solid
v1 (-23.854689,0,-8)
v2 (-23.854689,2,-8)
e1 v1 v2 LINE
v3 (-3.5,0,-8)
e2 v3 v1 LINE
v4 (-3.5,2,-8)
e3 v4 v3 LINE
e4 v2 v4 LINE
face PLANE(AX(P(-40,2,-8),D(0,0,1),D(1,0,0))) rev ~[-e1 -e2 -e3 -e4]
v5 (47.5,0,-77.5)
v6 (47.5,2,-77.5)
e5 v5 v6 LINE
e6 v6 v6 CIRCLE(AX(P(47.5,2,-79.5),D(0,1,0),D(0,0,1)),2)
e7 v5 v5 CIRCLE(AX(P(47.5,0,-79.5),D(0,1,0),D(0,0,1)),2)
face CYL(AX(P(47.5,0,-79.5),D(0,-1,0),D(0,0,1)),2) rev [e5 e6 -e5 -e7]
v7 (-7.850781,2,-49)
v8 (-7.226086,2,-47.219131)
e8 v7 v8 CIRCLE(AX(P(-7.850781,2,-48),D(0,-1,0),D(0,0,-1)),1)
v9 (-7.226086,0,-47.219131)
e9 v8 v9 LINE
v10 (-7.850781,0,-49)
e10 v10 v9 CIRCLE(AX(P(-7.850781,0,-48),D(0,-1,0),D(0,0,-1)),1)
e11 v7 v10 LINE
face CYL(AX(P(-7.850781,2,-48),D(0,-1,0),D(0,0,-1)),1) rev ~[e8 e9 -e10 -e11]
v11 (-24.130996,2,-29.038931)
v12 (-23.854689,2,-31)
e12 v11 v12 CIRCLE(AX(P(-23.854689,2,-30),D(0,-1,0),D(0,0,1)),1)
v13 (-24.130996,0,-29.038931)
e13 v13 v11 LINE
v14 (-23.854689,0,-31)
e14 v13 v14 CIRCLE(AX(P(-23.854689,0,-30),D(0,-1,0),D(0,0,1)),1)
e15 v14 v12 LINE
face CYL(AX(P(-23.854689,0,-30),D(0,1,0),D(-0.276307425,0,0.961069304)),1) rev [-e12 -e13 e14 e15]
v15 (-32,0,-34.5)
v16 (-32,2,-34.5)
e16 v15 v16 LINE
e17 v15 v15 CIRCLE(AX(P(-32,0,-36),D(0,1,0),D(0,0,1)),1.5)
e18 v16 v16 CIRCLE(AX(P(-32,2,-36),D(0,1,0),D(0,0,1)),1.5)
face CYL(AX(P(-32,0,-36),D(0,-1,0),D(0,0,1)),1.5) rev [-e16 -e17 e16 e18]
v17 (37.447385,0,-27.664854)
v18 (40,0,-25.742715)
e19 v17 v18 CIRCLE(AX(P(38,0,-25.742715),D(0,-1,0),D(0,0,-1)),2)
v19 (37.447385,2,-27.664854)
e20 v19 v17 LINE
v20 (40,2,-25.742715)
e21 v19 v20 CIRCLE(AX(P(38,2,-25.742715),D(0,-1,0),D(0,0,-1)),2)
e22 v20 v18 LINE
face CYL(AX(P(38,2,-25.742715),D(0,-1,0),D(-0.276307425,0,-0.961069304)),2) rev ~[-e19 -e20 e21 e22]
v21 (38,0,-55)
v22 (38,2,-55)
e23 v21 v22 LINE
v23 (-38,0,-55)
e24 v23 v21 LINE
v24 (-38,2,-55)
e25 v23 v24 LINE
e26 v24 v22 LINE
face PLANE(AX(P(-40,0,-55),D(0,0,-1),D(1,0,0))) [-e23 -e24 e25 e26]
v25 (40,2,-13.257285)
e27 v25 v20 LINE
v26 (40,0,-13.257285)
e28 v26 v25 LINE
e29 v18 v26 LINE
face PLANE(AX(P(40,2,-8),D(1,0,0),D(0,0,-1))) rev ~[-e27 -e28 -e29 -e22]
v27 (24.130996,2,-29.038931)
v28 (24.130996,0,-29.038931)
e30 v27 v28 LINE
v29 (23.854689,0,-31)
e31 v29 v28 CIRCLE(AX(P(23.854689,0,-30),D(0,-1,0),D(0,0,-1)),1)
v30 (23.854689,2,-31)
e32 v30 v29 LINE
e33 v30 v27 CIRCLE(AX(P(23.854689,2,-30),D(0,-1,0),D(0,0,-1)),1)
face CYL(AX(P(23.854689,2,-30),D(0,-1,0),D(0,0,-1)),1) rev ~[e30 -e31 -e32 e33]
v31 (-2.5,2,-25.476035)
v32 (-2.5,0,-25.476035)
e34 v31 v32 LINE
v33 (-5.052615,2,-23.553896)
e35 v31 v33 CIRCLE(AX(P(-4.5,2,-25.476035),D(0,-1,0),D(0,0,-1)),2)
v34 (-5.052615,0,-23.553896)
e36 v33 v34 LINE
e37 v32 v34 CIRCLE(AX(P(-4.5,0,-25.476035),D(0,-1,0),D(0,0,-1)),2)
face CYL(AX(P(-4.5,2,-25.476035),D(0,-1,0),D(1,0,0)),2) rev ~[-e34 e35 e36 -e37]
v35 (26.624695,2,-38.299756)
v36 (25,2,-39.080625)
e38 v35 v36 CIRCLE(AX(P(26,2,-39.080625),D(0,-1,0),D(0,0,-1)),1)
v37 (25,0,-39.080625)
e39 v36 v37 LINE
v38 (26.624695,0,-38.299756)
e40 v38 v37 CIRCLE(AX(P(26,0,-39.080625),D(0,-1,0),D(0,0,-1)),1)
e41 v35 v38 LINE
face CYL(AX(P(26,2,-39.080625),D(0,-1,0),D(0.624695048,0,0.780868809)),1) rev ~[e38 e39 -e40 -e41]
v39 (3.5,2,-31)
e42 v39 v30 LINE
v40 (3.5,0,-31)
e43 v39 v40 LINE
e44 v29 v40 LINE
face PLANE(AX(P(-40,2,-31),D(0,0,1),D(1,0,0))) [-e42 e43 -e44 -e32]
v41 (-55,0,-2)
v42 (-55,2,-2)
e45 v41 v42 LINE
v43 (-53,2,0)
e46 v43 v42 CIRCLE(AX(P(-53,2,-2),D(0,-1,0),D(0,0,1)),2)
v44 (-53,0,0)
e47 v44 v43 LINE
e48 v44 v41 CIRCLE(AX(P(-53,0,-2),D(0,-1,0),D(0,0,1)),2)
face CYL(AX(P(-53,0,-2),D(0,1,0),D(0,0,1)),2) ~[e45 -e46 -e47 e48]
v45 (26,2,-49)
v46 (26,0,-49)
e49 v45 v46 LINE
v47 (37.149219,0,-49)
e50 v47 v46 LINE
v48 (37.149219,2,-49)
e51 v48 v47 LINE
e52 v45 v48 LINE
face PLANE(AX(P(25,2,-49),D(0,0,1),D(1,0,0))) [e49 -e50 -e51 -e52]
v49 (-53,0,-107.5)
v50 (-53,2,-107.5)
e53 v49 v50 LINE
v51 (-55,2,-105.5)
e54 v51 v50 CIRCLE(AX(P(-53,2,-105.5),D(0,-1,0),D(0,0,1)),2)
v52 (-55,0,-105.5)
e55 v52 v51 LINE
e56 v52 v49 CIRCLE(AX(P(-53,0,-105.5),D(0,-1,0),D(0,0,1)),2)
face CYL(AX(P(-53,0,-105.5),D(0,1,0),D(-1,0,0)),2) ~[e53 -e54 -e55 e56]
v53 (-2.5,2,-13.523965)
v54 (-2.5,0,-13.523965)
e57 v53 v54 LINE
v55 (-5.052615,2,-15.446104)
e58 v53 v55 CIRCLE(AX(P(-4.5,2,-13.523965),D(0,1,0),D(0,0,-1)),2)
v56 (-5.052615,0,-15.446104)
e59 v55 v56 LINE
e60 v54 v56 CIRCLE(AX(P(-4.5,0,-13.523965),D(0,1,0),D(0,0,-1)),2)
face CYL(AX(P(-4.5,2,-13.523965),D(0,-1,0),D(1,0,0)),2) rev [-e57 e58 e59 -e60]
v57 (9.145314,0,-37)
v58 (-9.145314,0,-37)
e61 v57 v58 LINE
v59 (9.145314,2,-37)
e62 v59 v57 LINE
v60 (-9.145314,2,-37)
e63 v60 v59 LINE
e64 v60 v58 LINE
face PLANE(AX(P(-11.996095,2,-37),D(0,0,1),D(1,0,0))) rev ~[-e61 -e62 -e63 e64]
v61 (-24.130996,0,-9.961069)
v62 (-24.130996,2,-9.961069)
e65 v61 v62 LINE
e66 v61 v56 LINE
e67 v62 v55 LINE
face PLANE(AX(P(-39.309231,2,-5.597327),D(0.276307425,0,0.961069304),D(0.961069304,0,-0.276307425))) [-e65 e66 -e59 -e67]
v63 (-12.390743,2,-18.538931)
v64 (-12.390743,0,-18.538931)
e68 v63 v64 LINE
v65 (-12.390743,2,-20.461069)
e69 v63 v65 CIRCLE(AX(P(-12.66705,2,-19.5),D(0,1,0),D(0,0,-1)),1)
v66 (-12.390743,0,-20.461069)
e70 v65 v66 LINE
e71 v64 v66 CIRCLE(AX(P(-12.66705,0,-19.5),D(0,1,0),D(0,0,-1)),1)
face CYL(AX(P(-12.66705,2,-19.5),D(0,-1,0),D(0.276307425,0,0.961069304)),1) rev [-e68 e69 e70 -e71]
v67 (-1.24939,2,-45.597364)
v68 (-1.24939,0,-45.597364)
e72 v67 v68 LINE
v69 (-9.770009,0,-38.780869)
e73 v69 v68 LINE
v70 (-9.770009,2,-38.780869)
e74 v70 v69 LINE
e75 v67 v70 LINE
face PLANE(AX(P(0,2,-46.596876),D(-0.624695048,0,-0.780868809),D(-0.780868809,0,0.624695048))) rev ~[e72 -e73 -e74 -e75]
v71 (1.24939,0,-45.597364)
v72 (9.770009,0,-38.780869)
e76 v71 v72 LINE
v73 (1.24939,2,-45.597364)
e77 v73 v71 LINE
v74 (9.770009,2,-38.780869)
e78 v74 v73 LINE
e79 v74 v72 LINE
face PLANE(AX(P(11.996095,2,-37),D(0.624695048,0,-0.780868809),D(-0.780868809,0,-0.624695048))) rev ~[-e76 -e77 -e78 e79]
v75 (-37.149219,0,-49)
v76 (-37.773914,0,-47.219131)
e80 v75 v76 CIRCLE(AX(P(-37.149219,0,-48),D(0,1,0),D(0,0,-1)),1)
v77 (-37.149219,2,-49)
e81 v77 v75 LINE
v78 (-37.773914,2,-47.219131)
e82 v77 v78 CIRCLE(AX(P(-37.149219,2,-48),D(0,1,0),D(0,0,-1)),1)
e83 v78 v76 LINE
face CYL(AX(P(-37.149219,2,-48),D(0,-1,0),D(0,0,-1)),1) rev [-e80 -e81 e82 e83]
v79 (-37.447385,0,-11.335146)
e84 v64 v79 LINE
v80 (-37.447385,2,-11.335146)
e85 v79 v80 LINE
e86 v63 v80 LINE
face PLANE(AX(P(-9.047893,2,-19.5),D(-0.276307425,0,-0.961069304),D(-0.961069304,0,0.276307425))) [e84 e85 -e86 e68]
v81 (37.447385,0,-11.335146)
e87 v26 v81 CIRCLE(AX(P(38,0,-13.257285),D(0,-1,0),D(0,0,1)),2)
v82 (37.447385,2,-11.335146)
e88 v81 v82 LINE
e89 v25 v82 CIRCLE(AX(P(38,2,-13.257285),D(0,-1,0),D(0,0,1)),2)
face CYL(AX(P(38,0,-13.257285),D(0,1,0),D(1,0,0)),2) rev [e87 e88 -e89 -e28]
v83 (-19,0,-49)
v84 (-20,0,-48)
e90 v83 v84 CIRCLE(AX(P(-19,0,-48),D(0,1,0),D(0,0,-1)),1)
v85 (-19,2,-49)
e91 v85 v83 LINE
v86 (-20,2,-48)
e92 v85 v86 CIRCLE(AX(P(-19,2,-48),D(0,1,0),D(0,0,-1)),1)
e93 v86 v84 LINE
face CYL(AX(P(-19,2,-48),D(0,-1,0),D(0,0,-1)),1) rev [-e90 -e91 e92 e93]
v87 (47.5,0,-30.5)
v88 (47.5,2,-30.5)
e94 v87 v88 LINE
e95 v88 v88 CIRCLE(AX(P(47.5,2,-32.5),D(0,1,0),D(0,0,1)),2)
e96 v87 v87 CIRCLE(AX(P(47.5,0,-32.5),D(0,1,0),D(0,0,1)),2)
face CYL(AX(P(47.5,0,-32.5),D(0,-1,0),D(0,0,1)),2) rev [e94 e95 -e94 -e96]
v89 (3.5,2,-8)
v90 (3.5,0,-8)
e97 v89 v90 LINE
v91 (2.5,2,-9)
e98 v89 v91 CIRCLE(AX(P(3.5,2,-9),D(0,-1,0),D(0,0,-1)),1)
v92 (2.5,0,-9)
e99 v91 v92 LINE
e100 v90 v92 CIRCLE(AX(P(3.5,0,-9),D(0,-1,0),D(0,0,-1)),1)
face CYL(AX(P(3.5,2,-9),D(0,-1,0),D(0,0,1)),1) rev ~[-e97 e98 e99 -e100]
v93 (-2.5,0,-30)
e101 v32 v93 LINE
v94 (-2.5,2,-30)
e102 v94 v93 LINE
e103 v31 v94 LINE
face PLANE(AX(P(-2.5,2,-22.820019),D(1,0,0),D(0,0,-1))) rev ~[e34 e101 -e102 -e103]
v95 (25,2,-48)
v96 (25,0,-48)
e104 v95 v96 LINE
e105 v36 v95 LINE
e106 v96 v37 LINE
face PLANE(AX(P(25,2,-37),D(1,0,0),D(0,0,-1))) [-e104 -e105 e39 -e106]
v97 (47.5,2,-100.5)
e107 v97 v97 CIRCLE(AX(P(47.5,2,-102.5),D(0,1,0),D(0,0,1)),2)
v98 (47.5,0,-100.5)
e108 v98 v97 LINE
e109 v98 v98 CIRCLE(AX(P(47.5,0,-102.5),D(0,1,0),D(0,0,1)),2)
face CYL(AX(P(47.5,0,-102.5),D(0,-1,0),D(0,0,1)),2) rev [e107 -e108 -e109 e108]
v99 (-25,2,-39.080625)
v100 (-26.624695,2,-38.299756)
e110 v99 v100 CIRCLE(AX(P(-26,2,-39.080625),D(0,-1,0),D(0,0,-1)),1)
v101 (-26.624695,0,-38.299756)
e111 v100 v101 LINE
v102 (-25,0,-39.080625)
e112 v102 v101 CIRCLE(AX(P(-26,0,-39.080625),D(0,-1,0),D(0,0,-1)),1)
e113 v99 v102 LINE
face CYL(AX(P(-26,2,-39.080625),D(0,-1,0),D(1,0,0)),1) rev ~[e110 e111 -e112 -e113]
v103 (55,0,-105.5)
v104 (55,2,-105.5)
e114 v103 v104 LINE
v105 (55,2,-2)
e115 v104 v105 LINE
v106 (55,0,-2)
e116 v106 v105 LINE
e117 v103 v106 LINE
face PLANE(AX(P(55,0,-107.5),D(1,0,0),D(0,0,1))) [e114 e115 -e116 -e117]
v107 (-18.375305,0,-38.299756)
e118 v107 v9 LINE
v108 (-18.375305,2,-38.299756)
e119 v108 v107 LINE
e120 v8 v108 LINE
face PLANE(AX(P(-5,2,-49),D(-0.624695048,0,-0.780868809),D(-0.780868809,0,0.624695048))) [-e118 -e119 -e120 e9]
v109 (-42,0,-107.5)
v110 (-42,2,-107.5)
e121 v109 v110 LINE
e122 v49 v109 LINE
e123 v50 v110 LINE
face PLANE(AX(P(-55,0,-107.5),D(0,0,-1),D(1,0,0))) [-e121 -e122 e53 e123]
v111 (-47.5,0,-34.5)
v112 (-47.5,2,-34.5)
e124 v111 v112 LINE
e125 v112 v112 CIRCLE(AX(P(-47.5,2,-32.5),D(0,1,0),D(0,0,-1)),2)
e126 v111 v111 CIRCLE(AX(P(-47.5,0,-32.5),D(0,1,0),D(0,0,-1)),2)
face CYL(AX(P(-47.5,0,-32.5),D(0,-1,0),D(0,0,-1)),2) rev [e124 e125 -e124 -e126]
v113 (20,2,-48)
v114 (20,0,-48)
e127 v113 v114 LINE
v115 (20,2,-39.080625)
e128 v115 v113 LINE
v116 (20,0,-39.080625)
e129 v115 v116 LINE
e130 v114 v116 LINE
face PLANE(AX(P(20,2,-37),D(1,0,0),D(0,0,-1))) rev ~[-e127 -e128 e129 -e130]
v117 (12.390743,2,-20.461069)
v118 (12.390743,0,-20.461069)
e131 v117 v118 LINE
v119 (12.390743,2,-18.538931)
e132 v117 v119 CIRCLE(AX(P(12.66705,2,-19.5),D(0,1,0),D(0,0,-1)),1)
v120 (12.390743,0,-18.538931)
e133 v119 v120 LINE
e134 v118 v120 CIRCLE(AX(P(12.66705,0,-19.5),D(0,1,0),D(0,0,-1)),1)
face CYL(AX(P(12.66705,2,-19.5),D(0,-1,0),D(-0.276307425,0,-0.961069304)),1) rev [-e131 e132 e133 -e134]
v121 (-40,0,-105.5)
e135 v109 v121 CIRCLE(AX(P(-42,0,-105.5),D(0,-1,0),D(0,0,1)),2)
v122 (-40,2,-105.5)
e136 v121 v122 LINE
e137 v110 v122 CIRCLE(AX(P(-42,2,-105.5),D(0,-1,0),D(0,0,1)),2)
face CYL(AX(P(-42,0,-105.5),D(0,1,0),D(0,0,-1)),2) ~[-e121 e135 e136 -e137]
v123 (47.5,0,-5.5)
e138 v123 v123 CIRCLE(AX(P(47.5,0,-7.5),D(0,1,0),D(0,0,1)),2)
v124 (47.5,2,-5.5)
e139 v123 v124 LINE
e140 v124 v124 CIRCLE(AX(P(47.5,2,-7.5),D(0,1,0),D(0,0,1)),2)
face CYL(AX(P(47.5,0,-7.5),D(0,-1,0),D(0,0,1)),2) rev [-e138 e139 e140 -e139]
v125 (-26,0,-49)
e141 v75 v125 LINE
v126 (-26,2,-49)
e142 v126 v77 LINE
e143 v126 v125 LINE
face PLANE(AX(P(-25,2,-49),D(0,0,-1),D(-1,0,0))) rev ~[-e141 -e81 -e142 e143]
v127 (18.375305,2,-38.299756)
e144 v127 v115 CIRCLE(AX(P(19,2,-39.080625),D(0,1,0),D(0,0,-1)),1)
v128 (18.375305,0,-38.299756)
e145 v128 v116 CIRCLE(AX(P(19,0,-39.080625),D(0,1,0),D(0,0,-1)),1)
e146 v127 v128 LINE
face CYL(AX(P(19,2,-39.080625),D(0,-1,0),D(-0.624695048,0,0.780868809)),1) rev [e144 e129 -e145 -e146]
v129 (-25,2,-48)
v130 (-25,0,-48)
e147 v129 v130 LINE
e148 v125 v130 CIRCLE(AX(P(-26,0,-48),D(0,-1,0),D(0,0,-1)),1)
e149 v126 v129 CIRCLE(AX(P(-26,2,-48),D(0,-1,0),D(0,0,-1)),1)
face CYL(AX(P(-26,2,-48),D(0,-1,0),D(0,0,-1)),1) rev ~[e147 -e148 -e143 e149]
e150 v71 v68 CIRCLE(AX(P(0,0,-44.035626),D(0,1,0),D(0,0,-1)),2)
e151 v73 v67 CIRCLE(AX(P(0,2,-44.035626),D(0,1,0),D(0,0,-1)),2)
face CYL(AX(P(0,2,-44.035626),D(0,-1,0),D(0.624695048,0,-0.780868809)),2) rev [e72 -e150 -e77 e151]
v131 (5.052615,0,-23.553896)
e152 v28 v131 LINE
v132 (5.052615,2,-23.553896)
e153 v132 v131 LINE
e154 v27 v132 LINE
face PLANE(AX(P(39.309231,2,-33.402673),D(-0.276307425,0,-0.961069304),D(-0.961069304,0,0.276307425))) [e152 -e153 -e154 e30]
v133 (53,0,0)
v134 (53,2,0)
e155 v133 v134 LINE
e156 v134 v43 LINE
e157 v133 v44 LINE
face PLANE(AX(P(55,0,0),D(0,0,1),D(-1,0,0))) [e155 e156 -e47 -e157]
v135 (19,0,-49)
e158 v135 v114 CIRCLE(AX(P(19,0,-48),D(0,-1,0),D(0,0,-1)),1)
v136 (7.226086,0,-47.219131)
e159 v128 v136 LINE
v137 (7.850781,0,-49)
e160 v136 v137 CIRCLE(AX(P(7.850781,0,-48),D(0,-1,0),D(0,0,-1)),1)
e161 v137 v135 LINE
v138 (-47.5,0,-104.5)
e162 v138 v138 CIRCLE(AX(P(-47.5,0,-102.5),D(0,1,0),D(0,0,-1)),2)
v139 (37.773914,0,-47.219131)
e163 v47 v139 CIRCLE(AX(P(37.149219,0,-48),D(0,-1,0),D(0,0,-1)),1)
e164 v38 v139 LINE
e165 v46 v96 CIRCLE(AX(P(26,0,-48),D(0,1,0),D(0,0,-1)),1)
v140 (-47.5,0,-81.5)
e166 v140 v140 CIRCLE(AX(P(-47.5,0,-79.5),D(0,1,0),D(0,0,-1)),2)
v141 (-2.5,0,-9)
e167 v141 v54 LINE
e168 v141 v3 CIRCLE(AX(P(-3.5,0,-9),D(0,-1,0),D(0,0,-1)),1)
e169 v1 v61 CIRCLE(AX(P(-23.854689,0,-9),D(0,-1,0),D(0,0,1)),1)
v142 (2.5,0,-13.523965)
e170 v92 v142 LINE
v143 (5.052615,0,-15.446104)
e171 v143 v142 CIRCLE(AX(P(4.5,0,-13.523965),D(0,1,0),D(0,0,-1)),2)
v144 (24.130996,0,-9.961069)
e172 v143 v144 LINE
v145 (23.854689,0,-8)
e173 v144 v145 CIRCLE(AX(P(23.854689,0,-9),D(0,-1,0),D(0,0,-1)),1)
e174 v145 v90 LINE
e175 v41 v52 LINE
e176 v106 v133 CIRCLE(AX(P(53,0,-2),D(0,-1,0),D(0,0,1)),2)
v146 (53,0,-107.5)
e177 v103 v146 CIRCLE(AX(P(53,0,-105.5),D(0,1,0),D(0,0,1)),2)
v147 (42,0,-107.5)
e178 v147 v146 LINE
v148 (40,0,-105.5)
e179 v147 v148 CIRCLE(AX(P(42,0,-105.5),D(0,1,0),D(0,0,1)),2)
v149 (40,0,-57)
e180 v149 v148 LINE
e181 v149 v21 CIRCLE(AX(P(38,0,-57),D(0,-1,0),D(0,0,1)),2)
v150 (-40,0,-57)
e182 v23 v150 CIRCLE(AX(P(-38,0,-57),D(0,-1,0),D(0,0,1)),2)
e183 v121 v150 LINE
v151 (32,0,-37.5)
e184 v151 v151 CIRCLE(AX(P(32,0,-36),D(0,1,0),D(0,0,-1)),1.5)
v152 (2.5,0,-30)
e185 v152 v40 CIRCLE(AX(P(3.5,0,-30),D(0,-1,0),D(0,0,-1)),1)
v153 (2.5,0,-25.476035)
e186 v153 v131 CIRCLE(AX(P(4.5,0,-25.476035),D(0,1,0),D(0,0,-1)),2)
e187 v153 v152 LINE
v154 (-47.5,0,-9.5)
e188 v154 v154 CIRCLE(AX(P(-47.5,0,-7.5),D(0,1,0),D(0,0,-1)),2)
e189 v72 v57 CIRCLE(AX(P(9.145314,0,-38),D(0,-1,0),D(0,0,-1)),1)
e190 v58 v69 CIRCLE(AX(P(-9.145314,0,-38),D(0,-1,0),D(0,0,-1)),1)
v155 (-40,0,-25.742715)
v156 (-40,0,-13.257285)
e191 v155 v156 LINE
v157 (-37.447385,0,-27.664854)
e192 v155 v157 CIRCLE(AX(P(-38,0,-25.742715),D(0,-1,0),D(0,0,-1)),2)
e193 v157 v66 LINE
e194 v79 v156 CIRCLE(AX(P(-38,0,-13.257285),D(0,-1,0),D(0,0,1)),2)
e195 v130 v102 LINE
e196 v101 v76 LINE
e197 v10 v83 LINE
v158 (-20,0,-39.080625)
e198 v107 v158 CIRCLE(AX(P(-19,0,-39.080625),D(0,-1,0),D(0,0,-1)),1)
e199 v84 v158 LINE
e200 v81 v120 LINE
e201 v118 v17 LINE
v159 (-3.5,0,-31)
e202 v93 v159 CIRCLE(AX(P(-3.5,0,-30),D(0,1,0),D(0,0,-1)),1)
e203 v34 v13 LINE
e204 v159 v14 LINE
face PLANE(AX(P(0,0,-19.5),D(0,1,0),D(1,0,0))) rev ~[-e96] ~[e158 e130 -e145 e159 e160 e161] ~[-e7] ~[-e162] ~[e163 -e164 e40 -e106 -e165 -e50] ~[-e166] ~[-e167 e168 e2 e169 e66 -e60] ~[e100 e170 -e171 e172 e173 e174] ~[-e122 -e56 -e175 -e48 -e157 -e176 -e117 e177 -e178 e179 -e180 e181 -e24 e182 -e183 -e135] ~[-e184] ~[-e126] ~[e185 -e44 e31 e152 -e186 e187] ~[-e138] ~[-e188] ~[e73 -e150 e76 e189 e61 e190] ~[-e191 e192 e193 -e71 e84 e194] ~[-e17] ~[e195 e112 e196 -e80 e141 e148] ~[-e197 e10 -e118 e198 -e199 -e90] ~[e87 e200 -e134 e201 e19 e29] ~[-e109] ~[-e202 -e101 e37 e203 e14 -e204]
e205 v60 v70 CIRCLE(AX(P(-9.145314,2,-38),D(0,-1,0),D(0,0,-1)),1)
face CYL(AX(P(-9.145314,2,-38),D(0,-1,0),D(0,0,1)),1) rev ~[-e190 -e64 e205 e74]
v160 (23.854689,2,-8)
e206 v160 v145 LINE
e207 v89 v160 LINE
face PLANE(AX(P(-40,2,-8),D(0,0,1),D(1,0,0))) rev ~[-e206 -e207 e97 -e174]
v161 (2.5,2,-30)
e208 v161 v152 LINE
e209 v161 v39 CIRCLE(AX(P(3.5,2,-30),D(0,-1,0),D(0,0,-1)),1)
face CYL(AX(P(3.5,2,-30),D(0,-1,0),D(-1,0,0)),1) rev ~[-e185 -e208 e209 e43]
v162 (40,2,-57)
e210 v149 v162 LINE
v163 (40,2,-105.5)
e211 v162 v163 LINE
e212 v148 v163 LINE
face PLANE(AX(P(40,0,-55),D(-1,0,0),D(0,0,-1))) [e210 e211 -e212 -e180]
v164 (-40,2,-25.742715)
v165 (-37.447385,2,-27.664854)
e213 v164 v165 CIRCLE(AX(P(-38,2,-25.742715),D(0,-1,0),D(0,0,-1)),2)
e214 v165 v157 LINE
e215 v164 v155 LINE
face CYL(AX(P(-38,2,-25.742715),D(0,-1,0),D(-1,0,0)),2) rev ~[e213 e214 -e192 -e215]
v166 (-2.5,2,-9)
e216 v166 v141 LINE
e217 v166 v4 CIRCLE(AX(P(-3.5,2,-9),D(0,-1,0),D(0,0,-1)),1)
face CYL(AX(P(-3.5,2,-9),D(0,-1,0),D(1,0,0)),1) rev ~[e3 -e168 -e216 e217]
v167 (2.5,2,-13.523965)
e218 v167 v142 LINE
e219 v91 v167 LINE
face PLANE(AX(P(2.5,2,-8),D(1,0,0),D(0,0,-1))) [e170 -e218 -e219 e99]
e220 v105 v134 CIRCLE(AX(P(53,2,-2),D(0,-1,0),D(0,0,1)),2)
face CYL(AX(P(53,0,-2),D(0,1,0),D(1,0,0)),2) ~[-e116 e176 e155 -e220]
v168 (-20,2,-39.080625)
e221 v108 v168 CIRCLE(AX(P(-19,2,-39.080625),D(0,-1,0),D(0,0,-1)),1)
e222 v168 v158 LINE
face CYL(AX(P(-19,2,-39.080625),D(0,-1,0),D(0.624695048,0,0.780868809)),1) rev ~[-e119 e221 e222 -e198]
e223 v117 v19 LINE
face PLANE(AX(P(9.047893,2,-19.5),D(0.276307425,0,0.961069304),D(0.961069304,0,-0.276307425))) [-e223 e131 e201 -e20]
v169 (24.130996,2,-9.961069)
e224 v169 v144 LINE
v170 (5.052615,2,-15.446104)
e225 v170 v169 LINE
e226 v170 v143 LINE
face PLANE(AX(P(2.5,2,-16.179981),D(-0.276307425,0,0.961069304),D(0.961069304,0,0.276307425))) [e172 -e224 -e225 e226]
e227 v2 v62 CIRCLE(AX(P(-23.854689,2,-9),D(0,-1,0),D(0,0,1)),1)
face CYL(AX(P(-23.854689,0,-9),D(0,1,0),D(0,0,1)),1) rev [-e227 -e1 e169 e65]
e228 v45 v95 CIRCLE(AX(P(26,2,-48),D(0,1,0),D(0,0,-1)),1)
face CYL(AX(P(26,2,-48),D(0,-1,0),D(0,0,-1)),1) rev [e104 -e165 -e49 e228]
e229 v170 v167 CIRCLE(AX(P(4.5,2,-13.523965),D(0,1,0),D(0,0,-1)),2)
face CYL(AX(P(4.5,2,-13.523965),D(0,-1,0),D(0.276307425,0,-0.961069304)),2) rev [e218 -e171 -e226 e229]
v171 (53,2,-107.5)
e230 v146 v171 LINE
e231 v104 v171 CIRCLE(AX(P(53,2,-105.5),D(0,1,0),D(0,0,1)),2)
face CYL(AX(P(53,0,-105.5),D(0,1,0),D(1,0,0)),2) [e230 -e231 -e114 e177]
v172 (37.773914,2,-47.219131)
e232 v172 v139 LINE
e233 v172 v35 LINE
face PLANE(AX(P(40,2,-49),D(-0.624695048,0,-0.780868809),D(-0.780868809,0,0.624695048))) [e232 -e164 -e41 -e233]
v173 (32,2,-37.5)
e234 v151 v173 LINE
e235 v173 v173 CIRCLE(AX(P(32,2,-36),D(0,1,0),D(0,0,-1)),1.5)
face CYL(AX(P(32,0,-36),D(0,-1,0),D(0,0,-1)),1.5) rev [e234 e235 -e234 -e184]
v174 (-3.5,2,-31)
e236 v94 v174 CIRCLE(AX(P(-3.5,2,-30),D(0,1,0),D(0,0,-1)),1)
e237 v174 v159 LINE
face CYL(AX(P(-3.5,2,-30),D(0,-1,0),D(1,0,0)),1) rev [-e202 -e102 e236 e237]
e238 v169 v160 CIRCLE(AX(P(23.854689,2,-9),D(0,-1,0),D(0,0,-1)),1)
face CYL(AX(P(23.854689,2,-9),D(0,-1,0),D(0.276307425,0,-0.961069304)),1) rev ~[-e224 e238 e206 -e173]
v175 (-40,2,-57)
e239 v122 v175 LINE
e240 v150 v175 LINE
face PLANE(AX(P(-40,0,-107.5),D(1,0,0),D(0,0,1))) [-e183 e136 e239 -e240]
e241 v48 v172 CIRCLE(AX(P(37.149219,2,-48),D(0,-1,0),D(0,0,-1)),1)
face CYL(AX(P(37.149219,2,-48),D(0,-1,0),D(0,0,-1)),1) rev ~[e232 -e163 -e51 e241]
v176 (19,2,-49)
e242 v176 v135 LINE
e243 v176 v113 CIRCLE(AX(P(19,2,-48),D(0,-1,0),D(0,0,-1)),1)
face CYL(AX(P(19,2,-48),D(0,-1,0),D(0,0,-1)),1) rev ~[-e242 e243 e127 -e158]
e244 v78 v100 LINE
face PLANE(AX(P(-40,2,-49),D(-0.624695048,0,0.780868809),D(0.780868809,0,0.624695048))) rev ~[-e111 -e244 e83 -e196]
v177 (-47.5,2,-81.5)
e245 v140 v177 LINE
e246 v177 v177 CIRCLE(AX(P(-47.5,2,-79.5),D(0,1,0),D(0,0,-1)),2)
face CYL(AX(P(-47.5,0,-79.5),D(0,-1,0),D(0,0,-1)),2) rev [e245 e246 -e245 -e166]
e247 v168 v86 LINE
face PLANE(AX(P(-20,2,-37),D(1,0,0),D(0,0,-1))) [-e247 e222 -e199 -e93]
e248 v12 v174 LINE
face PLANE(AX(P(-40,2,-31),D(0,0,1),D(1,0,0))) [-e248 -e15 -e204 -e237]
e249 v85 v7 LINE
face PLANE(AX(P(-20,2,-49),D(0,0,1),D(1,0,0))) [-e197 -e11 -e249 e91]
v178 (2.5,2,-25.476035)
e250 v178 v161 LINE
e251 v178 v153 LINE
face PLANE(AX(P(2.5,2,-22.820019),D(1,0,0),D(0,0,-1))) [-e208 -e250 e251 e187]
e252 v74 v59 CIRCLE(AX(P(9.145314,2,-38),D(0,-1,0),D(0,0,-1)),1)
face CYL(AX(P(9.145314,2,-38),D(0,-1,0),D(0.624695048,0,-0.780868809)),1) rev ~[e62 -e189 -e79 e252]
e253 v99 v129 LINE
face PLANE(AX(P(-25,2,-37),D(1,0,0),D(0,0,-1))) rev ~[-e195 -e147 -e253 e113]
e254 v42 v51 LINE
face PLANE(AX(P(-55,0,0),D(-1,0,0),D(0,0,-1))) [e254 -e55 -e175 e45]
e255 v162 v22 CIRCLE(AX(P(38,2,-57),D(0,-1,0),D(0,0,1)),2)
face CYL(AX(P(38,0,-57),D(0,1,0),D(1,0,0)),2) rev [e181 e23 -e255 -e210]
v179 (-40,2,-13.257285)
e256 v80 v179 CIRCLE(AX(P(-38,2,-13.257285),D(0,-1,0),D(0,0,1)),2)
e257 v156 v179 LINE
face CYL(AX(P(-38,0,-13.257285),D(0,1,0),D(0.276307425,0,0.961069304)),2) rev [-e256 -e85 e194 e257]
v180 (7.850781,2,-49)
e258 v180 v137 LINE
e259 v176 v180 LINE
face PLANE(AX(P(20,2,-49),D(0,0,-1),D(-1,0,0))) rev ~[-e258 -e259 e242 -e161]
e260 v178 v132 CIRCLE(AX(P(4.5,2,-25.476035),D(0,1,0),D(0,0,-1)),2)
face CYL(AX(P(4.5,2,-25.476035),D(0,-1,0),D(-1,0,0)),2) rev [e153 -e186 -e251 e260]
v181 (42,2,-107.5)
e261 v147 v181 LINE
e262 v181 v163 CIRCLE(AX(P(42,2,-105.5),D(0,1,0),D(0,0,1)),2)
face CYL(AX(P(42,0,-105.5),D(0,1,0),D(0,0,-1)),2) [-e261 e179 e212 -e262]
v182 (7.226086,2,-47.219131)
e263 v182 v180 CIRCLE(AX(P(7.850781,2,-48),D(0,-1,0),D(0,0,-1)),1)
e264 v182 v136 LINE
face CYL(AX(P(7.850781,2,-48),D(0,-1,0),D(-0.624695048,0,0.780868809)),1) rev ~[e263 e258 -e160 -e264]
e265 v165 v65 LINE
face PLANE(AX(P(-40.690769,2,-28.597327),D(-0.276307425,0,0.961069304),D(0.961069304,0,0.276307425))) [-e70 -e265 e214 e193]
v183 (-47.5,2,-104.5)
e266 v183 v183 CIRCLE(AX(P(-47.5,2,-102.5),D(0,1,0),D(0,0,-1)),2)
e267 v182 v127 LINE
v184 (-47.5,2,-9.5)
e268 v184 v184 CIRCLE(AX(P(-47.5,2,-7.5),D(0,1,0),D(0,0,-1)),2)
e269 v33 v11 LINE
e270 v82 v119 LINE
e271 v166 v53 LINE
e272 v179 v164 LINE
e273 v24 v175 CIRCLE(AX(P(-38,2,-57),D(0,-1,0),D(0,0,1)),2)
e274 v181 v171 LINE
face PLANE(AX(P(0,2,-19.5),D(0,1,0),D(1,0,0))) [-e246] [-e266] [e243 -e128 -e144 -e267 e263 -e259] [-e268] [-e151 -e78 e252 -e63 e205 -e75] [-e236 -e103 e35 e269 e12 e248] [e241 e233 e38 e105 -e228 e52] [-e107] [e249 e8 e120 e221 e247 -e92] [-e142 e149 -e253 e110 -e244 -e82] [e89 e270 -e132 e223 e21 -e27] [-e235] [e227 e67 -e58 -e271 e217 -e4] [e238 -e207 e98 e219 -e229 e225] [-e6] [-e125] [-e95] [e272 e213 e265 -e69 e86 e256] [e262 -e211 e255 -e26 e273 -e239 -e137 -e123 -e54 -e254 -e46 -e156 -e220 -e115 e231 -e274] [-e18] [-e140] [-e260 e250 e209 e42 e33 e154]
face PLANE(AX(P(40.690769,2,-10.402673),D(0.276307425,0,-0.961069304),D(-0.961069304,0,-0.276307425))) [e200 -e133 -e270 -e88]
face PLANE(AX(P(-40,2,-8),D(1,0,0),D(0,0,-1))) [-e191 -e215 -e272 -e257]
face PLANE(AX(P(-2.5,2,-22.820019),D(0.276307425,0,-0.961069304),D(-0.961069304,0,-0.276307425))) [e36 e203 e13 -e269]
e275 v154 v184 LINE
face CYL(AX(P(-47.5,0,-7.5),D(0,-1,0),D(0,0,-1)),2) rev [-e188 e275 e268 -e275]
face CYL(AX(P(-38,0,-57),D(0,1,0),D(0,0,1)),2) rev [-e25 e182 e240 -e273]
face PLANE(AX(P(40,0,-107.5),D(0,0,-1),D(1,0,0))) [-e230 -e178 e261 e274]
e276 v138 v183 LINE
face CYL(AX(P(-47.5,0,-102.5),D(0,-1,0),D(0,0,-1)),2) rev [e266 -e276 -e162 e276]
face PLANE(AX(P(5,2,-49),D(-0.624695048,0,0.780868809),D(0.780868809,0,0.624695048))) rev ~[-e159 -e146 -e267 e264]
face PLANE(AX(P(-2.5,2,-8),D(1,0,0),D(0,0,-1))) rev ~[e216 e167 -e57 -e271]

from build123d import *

# Parameters (mm, degrees)
SKETCH_1_R          = 2
SKETCH_1_R_2        = 1.5
EXTRUDE_1_DEPTH     = 2
SKETCH_2_W          = 80
SKETCH_2_H          = 23
CUT_EXTRUDE_1_DEPTH = 121.769408378
SKETCH_3_W          = 5
SKETCH_3_H          = 23
EXTRUDE_2_DEPTH     = 2
FILLET_1_R          = 2
FILLET_2_R          = 1
FILLET_3_R          = 2


with BuildPart() as part:
    # 草图1 → 凸台-拉伸1 (new body)
    with BuildSketch(Plane(origin=(0, 0, 0), x_dir=(1, 0, 0), z_dir=(0, 1, 0))):
        Polygon((55, 107.5), (55, 0), (-55, 0), (-55, 107.5), (-40, 107.5), (-40, 55), (40, 55), (40, 107.5), align=None)
        with Locations(Location((47.5, 32.5, 0), (0, 0, 270))):
            Circle(SKETCH_1_R, mode=Mode.SUBTRACT)
        with Locations(Location((47.5, 7.5, 0), (0, 0, 270))):
            Circle(SKETCH_1_R, mode=Mode.SUBTRACT)
        with Locations(Location((47.5, 79.5, 0), (0, 0, 270))):
            Circle(SKETCH_1_R, mode=Mode.SUBTRACT)
        with Locations(Location((47.5, 102.5, 0), (0, 0, 270))):
            Circle(SKETCH_1_R, mode=Mode.SUBTRACT)
        with Locations(Location((-47.5, 102.5, 0), (0, 0, 90))):
            Circle(SKETCH_1_R, mode=Mode.SUBTRACT)
        with Locations(Location((-47.5, 79.5, 0), (0, 0, 90))):
            Circle(SKETCH_1_R, mode=Mode.SUBTRACT)
        with Locations(Location((-47.5, 7.5, 0), (0, 0, 90))):
            Circle(SKETCH_1_R, mode=Mode.SUBTRACT)
        with Locations(Location((-47.5, 32.5, 0), (0, 0, 90))):
            Circle(SKETCH_1_R, mode=Mode.SUBTRACT)
        with Locations(Location((-32, 36, 0), (0, 0, 270))):
            Circle(SKETCH_1_R_2, mode=Mode.SUBTRACT)
        with Locations(Location((32, 36, 0), (0, 0, 90))):
            Circle(SKETCH_1_R_2, mode=Mode.SUBTRACT)
    extrude(amount=EXTRUDE_1_DEPTH)

    # 草图2 → 切除-拉伸1 (cut, through all)
    with BuildSketch(Plane(origin=(0, 2, 0), x_dir=(1, 0, 0), z_dir=(0, 1, 0))):
        with Locations((0, 19.5)):
            Rectangle(SKETCH_2_W, SKETCH_2_H)
        Polygon((-40, 49), (-25, 37), (-25, 49), align=None)
        Polygon((-20, 49), (-5, 49), (-20, 37), align=None)
        Polygon((0, 46.596875763), (-11.996094703, 37), (11.996094703, 37), align=None)
        Polygon((20, 37), (20, 49), (5, 49), align=None)
        Polygon((25, 49), (40, 49), (25, 37), align=None)
    extrude(amount=-CUT_EXTRUDE_1_DEPTH, mode=Mode.SUBTRACT)

    # 草图3 → 拉伸-薄壁2 (add)
    with BuildSketch(Plane(origin=(0, 2, 0), x_dir=(1, 0, 0), z_dir=(0, 1, 0))):
        Polygon((-40.690768562, 28.59732674), (39.309231438, 5.59732674), (40.690768562, 10.40267326), (-39.309231438, 33.40267326), align=None)
        Polygon((-39.309231438, 5.59732674), (40.690768562, 28.59732674), (39.309231438, 33.40267326), (-40.690768562, 10.40267326), align=None)
        with Locations((0, 19.5)):
            Rectangle(SKETCH_3_W, SKETCH_3_H)
    extrude(amount=-EXTRUDE_2_DEPTH)

    # 圆角1
    fillet_1_edges = [part.edges().sort_by_distance(p)[0] for p in [
        (55, 1, -107.5),
        (55, 1, 0),
        (-55, 1, 0),
        (-55, 1, -107.5),
        (-40, 1, -107.5),
        (-40, 1, -55),
        (40, 1, -55),
        (40, 1, -107.5),
    ]]
    fillet(fillet_1_edges, radius=FILLET_1_R)

    # 圆角2
    fillet_2_edges = [part.edges().sort_by_distance(p)[0] for p in [
        (-20, 1, -49),
        (-5, 1, -49),
        (-40, 1, -49),
        (-25, 1, -49),
        (-25, 1, -37),
        (25, 1, -37),
        (25, 1, -49),
        (40, 1, -49),
        (-30.952107056, 1, -8),
        (30.952107056, 1, -8),
        (30.952107056, 1, -31),
        (-30.952107056, 1, -31),
        (-9.047892944, 1, -19.5),
        (9.047892944, 1, -19.5),
        (2.5, 1, -31),
        (-2.5, 1, -31),
        (-2.5, 1, -8),
        (2.5, 1, -8),
        (11.996094703, 1, -37),
        (-11.996094703, 1, -37),
        (20, 1, -37),
        (5, 1, -49),
        (20, 1, -49),
        (-20, 1, -37),
    ]]
    fillet(fillet_2_edges, radius=FILLET_2_R)

    # 圆角3
    fillet_3_edges = [part.edges().sort_by_distance(p)[0] for p in [
        (40, 1, -28.398730779),
        (40, 1, -10.601269221),
        (-40, 1, -10.601269221),
        (-40, 1, -28.398730779),
        (-2.5, 1, -22.820019221),
        (2.5, 1, -16.179980779),
        (2.5, 1, -22.820019221),
        (-2.5, 1, -16.179980779),
        (0, 1, -46.596875763),
    ]]
    fillet(fillet_3_edges, radius=FILLET_3_R)


solid = part.part
